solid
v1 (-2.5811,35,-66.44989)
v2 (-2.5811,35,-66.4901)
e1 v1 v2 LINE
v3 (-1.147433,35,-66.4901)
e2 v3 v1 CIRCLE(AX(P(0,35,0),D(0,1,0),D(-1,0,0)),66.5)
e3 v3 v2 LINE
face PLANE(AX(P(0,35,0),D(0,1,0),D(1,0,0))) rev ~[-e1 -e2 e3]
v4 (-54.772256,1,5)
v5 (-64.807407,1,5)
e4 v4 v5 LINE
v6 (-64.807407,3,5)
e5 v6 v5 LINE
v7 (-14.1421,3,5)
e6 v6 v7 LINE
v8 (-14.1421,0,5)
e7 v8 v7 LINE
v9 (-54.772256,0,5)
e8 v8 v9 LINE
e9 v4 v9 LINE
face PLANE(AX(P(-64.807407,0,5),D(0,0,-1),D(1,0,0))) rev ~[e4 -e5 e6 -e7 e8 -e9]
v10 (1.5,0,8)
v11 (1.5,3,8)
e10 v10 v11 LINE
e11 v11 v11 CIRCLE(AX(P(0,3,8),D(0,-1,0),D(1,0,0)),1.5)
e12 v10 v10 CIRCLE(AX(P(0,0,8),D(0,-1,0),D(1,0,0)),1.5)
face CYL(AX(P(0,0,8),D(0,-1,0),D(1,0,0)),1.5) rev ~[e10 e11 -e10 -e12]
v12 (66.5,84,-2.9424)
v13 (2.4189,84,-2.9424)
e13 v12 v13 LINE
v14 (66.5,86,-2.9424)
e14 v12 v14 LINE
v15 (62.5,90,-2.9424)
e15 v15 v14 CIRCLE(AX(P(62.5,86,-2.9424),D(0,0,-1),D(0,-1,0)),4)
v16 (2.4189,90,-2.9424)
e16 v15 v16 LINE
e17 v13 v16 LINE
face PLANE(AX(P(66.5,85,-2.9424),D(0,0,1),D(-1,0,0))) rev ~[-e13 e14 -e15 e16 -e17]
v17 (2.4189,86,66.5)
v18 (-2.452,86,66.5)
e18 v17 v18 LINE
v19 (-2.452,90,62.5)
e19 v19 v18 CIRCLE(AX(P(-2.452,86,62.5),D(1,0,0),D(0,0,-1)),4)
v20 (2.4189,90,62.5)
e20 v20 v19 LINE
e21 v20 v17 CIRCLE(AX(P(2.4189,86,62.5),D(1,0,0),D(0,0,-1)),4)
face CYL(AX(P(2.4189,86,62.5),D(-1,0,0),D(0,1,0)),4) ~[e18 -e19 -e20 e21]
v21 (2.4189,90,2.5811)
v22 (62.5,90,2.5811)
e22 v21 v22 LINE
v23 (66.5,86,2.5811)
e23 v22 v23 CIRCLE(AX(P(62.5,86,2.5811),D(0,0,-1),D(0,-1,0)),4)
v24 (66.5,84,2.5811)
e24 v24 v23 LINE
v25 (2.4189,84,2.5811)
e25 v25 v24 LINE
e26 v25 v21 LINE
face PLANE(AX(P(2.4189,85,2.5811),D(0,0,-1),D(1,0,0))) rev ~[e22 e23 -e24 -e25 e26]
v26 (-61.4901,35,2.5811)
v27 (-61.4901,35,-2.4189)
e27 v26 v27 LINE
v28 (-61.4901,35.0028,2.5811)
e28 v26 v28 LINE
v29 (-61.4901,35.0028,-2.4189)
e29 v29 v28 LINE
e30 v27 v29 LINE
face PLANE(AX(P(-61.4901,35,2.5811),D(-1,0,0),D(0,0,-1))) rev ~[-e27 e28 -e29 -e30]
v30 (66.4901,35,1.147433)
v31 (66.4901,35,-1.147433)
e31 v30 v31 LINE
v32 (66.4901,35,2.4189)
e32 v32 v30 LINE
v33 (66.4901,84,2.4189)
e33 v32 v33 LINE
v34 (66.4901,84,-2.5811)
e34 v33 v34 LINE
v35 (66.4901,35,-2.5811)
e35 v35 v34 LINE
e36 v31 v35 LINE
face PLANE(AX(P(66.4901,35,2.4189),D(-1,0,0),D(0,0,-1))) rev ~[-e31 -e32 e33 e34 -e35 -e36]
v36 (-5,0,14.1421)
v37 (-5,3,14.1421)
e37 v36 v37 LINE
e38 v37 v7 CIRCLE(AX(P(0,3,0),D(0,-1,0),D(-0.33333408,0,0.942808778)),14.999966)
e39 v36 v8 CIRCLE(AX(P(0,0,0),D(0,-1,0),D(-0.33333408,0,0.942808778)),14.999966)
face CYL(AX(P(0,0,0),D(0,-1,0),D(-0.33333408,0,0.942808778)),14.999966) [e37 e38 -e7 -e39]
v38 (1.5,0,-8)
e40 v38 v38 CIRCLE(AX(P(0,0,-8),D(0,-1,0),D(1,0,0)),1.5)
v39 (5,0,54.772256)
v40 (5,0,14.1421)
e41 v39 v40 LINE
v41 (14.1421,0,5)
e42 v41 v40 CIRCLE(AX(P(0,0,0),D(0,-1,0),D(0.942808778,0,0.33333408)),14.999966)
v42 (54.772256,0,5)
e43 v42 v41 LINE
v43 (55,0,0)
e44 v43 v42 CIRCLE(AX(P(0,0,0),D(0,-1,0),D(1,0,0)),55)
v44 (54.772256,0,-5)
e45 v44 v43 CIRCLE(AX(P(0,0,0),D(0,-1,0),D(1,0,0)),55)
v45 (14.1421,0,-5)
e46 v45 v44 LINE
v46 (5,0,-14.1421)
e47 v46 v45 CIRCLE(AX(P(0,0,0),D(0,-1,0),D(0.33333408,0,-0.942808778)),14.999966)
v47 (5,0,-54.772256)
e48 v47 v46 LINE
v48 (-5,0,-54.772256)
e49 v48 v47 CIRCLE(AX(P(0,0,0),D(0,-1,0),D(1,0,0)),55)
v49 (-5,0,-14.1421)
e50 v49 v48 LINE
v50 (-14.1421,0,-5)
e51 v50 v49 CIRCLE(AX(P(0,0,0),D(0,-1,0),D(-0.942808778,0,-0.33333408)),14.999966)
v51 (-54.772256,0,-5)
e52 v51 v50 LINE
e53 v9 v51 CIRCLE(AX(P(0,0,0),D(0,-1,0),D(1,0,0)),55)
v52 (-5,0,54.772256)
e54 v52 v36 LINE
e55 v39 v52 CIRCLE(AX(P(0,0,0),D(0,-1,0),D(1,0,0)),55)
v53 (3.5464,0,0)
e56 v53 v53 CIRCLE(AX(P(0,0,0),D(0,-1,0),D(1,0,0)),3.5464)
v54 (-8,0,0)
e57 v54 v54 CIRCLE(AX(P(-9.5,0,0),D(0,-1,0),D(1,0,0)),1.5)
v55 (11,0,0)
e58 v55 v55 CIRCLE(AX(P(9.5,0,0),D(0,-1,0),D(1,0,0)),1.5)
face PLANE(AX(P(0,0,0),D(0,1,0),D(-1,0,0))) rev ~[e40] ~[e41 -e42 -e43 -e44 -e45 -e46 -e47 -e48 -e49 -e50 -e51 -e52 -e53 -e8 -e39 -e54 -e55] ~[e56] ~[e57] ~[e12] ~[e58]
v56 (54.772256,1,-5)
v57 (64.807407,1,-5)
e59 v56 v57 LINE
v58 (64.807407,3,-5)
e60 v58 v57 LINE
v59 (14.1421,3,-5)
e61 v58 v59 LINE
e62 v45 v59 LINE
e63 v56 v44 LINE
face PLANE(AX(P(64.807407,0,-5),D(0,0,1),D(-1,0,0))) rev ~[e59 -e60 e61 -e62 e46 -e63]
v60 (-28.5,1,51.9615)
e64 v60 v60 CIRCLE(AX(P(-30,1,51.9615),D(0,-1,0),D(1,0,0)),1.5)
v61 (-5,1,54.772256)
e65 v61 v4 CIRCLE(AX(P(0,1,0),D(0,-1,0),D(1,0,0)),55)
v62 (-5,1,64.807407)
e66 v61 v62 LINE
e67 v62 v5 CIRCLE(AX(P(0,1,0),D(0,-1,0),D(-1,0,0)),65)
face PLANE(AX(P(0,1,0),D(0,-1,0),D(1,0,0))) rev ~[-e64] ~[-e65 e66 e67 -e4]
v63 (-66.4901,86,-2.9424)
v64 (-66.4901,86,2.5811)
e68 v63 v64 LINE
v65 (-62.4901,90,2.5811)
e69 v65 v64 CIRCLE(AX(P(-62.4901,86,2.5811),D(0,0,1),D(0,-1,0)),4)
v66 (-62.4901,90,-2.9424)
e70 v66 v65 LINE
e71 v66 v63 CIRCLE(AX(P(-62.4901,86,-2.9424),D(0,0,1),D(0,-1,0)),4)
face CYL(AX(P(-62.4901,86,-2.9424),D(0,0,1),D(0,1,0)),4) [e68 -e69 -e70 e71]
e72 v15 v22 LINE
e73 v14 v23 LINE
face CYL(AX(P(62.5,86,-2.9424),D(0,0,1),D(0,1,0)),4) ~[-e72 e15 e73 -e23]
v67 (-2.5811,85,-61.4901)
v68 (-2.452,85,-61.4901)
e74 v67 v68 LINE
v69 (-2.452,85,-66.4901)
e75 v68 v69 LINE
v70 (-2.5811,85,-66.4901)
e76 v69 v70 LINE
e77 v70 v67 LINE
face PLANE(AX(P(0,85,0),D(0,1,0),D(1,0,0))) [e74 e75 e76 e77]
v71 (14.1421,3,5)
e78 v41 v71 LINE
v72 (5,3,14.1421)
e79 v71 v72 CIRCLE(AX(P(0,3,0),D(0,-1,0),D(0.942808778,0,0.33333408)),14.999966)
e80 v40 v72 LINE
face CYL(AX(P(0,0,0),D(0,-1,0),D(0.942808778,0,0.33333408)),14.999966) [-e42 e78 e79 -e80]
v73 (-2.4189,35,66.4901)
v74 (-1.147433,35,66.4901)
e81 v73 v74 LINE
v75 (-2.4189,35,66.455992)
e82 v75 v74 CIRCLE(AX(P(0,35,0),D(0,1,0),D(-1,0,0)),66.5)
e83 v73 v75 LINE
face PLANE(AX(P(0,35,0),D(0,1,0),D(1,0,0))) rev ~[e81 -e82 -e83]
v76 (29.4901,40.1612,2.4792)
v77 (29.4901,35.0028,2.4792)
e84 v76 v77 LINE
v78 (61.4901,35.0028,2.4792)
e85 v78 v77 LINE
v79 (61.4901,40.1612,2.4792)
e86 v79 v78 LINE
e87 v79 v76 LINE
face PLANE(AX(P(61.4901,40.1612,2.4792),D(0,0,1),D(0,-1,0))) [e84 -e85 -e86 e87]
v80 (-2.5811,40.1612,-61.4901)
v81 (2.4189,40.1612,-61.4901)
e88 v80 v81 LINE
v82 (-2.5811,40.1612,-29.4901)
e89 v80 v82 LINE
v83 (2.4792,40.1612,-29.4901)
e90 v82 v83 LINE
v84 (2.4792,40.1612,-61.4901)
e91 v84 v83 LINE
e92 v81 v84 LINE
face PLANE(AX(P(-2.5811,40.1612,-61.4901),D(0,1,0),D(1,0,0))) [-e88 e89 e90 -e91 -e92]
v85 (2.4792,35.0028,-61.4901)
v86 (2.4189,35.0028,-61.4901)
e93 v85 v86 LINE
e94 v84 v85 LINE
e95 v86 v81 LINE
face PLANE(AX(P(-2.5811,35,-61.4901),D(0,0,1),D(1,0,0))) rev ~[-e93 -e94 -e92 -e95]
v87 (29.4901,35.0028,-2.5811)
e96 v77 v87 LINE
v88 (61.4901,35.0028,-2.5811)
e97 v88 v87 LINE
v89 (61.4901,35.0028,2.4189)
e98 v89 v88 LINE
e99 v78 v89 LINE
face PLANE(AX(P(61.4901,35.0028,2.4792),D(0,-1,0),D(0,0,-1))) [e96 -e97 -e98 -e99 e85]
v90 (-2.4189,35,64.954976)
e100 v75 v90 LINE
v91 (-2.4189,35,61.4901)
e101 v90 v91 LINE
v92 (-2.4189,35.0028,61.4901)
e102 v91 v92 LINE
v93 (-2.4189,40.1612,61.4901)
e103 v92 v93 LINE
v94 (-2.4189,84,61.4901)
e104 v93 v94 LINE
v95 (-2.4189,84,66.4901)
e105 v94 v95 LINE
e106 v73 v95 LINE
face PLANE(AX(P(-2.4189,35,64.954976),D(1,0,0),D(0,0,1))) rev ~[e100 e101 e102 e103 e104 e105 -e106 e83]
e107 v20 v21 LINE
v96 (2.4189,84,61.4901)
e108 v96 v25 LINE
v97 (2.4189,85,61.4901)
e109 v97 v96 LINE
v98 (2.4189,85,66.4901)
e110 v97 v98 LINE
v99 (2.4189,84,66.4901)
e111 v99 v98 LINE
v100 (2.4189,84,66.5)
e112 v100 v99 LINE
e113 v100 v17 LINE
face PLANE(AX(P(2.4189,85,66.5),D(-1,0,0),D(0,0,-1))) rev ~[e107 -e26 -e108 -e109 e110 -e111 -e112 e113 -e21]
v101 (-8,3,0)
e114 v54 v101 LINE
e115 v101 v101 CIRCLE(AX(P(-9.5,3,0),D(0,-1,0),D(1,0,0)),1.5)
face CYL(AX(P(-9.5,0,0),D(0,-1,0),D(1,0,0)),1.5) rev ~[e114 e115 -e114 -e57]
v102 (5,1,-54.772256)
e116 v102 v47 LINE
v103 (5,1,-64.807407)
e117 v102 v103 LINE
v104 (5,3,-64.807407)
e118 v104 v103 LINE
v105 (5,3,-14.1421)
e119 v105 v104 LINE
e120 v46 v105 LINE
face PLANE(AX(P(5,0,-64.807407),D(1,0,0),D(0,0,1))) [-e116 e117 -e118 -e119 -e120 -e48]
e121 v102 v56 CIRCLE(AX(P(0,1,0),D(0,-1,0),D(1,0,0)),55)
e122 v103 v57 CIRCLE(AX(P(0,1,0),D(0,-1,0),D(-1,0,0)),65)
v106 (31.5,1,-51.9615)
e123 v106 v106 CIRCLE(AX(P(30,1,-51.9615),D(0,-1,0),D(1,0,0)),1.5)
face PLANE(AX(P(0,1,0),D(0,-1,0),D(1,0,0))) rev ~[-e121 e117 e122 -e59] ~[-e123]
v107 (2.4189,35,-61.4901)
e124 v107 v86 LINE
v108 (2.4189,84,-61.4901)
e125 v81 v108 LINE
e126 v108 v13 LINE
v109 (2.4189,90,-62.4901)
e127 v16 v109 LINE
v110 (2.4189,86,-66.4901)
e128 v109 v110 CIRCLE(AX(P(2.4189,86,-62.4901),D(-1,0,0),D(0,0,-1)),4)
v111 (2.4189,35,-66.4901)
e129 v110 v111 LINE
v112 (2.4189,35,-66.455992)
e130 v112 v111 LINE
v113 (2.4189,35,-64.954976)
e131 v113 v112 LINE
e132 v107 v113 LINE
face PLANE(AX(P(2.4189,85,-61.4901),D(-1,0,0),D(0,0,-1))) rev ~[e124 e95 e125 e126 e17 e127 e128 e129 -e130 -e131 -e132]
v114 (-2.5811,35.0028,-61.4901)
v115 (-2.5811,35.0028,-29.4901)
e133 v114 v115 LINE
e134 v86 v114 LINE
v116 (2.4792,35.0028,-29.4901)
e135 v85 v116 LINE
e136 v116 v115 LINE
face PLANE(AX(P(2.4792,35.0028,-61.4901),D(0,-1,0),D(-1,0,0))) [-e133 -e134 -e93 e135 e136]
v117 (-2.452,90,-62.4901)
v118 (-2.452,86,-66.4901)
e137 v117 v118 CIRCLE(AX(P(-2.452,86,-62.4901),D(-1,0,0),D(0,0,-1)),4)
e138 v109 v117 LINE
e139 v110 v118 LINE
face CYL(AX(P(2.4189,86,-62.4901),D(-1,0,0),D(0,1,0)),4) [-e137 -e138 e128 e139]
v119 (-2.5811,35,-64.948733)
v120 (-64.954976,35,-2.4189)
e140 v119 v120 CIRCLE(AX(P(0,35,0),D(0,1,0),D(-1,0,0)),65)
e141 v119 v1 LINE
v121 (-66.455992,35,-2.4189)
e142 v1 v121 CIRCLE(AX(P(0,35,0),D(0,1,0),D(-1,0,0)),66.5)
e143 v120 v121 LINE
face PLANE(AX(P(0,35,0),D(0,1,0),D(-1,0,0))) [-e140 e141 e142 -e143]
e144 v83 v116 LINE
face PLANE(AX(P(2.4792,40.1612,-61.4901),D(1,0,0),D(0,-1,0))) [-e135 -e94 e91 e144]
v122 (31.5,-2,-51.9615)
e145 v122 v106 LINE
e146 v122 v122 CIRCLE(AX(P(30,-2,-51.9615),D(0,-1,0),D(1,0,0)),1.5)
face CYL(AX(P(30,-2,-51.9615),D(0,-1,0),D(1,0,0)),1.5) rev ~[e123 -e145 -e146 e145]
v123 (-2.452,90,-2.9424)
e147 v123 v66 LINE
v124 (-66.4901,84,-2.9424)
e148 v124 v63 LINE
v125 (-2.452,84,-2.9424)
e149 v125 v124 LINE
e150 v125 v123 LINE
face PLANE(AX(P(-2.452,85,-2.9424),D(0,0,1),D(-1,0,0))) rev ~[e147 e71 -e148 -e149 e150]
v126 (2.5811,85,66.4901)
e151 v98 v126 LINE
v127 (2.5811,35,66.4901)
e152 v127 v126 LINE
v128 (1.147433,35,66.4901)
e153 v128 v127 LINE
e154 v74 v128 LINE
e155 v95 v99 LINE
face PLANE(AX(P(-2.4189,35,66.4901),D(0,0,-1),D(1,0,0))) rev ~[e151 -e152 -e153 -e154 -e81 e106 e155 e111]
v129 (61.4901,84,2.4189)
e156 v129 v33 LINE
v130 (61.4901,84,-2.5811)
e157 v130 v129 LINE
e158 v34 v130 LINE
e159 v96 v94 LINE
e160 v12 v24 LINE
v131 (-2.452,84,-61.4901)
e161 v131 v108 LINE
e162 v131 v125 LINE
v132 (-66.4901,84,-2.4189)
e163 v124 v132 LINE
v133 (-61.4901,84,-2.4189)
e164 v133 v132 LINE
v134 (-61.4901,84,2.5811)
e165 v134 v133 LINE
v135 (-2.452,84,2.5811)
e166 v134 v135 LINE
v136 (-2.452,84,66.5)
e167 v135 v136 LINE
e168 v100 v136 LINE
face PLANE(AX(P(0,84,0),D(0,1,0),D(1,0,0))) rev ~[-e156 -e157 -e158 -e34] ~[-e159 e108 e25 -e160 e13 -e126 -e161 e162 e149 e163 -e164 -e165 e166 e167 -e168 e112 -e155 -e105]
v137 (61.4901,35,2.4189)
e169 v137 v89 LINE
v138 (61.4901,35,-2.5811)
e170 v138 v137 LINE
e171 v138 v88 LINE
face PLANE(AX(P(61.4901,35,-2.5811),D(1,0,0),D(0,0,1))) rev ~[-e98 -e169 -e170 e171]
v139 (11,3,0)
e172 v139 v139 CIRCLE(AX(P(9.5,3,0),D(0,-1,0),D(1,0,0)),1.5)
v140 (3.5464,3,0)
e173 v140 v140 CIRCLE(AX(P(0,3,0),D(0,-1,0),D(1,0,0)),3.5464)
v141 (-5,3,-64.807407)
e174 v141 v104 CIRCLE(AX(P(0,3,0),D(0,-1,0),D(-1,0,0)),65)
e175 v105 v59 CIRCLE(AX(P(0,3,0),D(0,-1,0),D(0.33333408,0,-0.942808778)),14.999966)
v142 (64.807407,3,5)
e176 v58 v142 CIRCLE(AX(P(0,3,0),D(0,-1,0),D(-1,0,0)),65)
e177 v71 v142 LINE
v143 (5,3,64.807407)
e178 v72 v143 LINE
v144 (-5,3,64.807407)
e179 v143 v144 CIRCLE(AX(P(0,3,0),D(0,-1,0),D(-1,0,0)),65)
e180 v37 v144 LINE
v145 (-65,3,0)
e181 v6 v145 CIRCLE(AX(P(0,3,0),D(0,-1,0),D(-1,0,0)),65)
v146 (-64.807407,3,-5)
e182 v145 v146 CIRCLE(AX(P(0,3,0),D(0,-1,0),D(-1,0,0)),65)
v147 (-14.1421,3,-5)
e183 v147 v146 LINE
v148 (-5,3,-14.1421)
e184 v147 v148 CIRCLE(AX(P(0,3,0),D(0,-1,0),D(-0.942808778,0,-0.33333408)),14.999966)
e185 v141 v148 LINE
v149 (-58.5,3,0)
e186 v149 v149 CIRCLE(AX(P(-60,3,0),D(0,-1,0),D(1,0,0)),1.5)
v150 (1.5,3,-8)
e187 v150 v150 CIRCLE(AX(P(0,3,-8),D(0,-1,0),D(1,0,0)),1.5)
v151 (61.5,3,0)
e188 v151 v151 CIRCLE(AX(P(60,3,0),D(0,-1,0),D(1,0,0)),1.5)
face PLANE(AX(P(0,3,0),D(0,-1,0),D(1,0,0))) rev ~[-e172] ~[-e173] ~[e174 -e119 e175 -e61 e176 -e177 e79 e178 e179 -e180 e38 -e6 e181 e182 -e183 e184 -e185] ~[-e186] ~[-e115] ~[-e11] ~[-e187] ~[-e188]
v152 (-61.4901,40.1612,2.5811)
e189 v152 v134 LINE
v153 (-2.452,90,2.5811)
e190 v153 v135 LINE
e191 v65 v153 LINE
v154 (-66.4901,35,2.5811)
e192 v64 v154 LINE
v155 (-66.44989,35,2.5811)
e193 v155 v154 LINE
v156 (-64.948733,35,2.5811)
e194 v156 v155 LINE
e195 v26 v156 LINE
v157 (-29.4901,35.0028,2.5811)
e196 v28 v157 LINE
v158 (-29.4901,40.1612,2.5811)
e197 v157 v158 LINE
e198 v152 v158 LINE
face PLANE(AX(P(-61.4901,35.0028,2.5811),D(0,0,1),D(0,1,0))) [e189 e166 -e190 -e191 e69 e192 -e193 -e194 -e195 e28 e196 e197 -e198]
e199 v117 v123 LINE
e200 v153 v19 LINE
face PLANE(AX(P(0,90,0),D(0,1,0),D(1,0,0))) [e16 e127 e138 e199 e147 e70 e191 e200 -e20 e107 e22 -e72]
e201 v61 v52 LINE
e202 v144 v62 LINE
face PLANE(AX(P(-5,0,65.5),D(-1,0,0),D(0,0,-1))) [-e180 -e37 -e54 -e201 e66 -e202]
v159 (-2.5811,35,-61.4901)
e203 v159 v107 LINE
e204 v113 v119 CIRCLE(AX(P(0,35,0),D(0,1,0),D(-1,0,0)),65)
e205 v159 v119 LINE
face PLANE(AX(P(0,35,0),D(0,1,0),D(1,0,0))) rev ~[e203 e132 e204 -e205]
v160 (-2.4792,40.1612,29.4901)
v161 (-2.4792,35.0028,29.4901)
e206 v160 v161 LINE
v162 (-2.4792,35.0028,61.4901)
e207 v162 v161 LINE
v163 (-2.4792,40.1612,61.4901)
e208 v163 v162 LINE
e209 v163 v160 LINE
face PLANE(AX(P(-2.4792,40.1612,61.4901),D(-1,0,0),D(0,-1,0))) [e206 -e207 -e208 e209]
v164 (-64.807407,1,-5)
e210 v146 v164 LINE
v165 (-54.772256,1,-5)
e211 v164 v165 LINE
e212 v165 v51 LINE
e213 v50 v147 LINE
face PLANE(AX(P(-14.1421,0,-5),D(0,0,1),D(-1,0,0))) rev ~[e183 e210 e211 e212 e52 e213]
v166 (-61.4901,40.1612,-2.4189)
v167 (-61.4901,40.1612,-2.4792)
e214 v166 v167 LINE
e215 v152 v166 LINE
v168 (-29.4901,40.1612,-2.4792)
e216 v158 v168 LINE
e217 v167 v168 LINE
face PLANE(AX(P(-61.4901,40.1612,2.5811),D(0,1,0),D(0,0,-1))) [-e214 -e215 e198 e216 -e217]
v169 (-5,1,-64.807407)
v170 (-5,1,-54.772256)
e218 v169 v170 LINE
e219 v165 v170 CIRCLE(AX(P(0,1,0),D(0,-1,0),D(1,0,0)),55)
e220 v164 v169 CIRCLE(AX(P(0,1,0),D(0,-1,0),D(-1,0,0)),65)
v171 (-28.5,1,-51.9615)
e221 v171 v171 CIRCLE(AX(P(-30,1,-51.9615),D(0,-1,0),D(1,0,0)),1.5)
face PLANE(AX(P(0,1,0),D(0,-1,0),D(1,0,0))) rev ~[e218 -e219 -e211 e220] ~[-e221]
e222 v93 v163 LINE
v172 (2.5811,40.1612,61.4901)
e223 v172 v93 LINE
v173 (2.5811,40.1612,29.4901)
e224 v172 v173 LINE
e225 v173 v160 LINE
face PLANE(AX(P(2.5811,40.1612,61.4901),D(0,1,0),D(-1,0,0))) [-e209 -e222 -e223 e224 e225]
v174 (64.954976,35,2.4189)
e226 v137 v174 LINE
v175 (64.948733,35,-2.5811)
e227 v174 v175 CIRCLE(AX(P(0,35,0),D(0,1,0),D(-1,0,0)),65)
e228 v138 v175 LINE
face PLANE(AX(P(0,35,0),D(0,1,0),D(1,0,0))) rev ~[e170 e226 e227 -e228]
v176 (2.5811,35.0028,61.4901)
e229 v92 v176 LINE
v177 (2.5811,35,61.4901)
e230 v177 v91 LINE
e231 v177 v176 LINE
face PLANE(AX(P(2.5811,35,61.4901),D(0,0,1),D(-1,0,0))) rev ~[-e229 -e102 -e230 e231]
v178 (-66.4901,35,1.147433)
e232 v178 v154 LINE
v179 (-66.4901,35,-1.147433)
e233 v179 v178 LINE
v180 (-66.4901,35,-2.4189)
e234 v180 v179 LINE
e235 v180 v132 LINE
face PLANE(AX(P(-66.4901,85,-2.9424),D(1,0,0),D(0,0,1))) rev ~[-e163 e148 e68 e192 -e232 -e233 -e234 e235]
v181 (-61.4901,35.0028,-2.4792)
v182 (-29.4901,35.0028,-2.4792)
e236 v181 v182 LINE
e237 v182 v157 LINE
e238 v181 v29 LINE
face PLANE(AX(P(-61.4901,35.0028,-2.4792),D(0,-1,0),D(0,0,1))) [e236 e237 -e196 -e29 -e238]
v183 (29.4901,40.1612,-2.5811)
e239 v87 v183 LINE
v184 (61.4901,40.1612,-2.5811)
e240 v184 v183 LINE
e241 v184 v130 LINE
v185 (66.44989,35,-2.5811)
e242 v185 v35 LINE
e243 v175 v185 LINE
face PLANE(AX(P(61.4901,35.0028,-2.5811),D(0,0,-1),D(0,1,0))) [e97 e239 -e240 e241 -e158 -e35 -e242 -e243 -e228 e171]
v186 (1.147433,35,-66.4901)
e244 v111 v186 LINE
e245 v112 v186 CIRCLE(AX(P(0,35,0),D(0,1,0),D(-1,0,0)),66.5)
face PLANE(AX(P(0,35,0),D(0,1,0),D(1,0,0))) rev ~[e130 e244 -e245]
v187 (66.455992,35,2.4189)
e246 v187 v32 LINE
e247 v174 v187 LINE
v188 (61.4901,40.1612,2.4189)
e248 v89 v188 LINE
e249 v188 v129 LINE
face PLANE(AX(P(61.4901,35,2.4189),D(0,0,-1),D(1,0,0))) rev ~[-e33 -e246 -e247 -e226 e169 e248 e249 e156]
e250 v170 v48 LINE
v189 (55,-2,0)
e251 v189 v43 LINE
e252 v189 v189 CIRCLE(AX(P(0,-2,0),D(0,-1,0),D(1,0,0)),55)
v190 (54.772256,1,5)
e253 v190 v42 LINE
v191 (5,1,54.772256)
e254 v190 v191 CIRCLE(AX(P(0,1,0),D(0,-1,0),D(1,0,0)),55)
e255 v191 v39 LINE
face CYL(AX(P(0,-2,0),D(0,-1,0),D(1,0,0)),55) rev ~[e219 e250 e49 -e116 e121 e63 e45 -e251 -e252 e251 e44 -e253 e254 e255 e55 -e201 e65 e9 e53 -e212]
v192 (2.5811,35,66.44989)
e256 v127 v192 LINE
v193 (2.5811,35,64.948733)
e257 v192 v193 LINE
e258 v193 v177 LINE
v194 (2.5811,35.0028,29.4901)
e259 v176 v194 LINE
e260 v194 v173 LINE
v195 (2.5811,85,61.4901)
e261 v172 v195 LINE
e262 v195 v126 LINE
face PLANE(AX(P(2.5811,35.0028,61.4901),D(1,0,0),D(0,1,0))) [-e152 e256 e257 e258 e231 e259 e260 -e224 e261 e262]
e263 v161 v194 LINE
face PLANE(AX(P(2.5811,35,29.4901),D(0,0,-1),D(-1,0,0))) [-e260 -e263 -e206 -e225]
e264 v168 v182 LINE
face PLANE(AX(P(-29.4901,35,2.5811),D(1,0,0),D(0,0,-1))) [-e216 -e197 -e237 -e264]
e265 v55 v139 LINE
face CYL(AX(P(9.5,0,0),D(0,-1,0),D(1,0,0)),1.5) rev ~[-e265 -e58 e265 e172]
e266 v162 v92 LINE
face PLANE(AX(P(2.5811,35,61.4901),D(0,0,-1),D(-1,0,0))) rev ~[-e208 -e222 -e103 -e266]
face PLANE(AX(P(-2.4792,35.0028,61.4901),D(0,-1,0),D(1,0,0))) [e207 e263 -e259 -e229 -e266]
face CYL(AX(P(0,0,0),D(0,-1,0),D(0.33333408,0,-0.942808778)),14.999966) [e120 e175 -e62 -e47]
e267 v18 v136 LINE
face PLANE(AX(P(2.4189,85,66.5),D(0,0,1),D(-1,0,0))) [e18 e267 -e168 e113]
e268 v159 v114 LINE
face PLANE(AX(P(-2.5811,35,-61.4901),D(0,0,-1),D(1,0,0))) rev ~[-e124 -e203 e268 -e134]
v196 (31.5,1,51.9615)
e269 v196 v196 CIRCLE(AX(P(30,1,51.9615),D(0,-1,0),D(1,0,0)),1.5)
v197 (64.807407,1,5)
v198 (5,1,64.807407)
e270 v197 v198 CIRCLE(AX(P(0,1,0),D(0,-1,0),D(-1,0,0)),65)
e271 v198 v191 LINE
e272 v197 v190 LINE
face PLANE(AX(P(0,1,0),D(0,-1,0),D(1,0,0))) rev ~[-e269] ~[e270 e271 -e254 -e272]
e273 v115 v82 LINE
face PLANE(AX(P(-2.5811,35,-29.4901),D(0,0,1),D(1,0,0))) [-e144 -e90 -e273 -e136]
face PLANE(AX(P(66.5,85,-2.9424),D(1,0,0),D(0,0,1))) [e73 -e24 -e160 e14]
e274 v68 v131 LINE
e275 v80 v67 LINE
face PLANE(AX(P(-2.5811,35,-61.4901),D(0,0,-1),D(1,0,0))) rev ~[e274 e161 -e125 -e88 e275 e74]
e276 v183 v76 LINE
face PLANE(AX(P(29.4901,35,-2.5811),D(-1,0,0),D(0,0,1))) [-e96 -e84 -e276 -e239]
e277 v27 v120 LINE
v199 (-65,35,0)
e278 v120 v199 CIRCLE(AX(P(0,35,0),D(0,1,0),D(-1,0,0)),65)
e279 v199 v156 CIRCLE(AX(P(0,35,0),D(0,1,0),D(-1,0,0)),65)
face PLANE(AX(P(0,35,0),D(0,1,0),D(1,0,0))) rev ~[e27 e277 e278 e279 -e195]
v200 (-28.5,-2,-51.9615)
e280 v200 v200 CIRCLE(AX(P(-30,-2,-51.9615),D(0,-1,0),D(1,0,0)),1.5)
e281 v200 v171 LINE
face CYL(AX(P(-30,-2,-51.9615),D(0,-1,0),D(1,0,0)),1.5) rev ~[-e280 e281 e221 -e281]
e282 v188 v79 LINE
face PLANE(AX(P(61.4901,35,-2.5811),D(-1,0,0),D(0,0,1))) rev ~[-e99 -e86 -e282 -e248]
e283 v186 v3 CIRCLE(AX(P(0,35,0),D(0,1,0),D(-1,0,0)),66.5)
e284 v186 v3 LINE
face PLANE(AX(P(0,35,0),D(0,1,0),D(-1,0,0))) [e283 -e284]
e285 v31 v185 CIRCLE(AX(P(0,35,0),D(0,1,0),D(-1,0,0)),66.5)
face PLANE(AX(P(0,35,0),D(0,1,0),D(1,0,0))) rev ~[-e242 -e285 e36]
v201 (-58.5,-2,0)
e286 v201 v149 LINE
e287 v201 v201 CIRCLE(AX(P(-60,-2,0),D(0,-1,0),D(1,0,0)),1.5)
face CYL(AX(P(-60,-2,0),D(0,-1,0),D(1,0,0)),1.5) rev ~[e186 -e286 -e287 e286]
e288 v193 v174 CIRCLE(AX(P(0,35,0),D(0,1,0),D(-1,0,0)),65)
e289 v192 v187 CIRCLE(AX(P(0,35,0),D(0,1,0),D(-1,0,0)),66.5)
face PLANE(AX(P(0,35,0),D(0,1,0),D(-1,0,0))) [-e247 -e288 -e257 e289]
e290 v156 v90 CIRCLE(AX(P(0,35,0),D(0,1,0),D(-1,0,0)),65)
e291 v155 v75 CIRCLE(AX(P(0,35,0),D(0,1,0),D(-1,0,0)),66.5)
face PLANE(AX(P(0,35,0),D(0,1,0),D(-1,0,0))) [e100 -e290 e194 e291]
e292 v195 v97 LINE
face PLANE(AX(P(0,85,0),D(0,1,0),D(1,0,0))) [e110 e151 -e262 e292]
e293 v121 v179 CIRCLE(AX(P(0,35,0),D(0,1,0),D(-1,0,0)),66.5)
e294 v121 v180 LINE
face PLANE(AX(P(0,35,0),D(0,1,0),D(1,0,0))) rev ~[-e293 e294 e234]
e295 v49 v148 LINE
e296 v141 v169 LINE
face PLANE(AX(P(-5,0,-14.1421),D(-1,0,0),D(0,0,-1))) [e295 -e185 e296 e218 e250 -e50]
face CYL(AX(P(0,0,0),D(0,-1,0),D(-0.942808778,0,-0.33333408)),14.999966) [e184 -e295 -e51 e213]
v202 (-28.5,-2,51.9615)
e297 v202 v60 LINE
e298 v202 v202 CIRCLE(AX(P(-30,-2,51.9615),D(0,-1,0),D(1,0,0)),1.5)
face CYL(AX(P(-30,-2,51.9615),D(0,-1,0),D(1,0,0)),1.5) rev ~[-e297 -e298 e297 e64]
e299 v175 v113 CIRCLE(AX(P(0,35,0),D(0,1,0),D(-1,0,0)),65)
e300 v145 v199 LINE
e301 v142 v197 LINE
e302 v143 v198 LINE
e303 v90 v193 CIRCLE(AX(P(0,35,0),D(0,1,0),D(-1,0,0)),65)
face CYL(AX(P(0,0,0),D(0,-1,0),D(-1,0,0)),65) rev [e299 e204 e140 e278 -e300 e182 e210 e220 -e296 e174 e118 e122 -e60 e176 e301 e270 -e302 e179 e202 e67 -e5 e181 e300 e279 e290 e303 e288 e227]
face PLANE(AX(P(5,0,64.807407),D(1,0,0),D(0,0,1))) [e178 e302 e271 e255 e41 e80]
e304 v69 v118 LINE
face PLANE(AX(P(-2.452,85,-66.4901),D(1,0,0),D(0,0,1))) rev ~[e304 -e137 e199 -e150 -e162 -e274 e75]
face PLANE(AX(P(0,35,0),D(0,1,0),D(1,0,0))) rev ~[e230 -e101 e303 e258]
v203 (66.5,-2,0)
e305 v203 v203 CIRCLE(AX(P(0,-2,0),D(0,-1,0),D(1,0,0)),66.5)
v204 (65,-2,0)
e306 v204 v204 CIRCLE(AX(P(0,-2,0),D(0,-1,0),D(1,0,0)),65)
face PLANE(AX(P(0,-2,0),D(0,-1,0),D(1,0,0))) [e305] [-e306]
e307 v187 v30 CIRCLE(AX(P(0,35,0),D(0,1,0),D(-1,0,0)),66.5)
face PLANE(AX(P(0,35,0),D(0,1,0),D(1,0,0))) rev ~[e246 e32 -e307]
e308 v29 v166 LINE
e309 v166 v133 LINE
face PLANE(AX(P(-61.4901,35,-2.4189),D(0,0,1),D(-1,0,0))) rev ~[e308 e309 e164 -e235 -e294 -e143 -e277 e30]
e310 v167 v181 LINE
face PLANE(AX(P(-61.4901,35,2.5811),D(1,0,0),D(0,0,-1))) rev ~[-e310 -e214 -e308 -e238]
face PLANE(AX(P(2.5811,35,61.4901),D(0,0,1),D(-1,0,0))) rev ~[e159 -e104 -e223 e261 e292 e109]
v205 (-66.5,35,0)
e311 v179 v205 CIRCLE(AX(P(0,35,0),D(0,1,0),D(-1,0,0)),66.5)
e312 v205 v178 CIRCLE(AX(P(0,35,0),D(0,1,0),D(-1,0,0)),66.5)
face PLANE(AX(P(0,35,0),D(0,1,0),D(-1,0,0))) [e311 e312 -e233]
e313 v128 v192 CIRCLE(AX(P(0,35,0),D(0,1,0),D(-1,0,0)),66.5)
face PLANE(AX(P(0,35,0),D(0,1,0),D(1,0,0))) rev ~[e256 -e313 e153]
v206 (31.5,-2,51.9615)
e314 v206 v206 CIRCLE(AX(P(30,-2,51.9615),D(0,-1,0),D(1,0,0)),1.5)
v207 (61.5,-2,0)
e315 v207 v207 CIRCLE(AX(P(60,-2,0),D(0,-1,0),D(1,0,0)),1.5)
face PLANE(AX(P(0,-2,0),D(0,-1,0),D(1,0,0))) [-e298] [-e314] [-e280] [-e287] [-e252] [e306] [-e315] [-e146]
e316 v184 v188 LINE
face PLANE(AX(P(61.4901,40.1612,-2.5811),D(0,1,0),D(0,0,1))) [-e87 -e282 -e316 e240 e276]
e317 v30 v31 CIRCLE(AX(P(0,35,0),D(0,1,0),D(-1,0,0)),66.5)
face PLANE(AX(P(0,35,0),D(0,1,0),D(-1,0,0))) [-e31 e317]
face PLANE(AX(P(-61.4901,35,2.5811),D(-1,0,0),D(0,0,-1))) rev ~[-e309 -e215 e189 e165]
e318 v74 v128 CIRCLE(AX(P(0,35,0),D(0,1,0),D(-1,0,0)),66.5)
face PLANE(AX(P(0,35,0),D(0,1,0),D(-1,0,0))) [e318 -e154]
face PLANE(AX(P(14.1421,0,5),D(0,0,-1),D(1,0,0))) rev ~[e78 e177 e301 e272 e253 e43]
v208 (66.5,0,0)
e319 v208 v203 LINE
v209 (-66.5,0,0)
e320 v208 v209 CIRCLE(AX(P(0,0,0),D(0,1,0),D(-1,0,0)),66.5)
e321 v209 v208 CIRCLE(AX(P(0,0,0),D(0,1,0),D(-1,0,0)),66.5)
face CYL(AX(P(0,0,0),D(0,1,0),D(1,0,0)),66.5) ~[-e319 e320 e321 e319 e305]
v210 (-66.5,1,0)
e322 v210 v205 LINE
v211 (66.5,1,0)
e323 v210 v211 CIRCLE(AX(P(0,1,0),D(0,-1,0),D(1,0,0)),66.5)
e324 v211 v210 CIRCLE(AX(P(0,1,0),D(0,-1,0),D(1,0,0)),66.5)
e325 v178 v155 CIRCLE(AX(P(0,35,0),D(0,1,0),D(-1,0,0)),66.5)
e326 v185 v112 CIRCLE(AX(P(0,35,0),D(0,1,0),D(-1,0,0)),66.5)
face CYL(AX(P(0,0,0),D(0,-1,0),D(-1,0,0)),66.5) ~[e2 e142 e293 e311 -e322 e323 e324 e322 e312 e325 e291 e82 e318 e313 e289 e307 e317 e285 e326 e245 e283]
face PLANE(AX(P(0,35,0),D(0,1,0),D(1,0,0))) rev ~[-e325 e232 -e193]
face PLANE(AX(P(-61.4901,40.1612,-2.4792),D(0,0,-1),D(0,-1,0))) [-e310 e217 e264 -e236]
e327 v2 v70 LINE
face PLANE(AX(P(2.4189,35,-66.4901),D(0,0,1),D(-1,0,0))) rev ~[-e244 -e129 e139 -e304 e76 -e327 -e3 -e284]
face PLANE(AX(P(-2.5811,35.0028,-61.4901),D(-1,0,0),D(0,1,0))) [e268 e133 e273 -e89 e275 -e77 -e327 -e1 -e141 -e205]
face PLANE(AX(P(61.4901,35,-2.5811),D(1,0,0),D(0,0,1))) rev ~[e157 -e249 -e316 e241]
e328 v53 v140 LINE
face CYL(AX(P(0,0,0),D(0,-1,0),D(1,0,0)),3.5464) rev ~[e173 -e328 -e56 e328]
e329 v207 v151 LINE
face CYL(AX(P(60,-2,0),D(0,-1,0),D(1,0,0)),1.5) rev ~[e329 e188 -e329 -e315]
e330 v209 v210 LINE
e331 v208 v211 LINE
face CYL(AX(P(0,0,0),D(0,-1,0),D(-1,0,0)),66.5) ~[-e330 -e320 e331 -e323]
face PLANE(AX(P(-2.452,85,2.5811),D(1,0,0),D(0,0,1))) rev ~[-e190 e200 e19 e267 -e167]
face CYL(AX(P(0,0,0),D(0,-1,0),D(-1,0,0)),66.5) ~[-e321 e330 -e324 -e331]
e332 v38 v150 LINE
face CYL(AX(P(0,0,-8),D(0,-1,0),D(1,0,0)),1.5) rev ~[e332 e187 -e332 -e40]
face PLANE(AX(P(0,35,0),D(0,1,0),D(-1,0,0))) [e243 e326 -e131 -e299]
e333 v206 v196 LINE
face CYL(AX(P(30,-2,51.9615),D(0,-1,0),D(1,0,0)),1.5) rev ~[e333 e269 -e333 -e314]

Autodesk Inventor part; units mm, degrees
ref_plane "YZ Plane" through (0, 0, 0) normal (1, 0, 0) x (0, 1, 0)
ref_plane "XZ Plane" through (0, 0, 0) normal (0, 1, 0) x (-1, 0, 0)
ref_plane "XY Plane" through (0, 0, 0) normal (0, 0, 1) x (1, 0, 0)
sketch "Sketch1" plane through (0, 0, 0) normal (0, 1, 0) x (-1, 0, 0)
  circle A0 centre (0, 0) radius 65
  circle A1 centre (0, 0) radius 66.5
  dimension "d0" = 130
  dimension "d1" = 133
extrude "Extrusion1" add sketch "Sketch1" along normal blind 35
sketch "Sketch2" plane through (0, 0, 0) normal (0, -1, 0) x (1, 0, 0)
  line L0 (5, 65.5) -> (-5, 65.5)
  line L1 (-5, -65.5) -> (5, -65.5)
  line L2 (65.5, 5) -> (65.5, -5)
  line L3 (-65.5, -5) -> (-65.5, 5)
  circle A0 centre (0, 0) radius 65 projected
  line L4 (64.8114, -4.9474) -> (65.5, -5) construction
  line L5 (65.5, 5) -> (64.8114, 4.9474) construction
  line L6 (-65.5, 5) -> (-64.8114, 4.9474) construction
  line L7 (0, 0) -> (5, -0.3817) construction
  line L8 (0, 0) -> (-5, -0.3817) construction
  line L9 (-64.8114, -4.9474) -> (-65.5, -5) construction
  line L10 (5, 65.5) -> (4.9474, 64.8114) construction
  line L11 (-5, 65.5) -> (-4.9474, 64.8114) construction
  arc A1 (14.1421, 5) -> (5, 14.1421) centre (0, 0) ccw
  arc A2 (-5, 14.1421) -> (-14.1421, 5) centre (0, 0) ccw
  line L12 (0, 0) -> (-0.3817, -5) construction
  line L13 (-4.9474, -64.8114) -> (-5, -65.5) construction
  line L14 (4.9474, -64.8114) -> (5, -65.5) construction
  arc A3 (-14.1421, -5) -> (-5, -14.1421) centre (0, 0) ccw
  arc A4 (5, -14.1421) -> (14.1421, -5) centre (0, 0) ccw
  line L15 (65.5, -5) -> (14.1421, -5)
  line L16 (5, -65.5) -> (5, -14.1421)
  line L17 (5, -0.3817) -> (5, 0.3817)
  line L18 (5, 14.1421) -> (5, 65.5)
  line L19 (-65.5, 5) -> (-14.1421, 5)
  line L20 (14.1421, 5) -> (65.5, 5)
  line L21 (-5, 65.5) -> (-5, 14.1421)
  line L22 (-5, 0.3817) -> (-5, -0.3817)
  line L23 (-5, -5) -> (-5, -65.5)
  line L24 (0.3817, -5) -> (-0.3817, -5)
  line L25 (-14.1421, -5) -> (-65.5, -5)
  dimension "d4" = 10
  dimension "d5" = 131
  dimension "d6" = 131
  dimension "d7" = 10
extrude "Extrusion2" add sketch "Sketch2" against normal blind 3 contours L18 A0 L21 L0 | L18 A1 L20 A0 L15 A4 L16 L23 A3 L25 L19 A2 L21 | L20 L2 L15 A0 | A0 L25 L3 L19 | A0 L16 L1 L23
sketch "Sketch3" plane through (0, 0, 0) normal (0, -1, 0) x (1, 0, 0)
  circle A0 centre (0, -8) radius 1.5
  circle A1 centre (0, 8) radius 1.5
  circle A2 centre (9.5, 0) radius 1.5
  circle A3 centre (-9.5, 0) radius 1.5
  circle A4 centre (0, 0) radius 3.5464
  dimension "d11" = 3
  dimension "d12" = 8
  dimension "d13" = 3
  dimension "d14" = 9.5
extrude "Extrusion3" cut sketch "Sketch3" against normal blind 3
sketch "Sketch4" plane through (0, 0, 0) normal (0, -1, 0) x (1, 0, 0)
  circle A0 centre (0, 0) radius 66.5 projected
  circle A1 centre (0, 0) radius 65
  dimension "d17" = 130
extrude "Extrusion4" add sketch "Sketch4" along normal blind 2
sketch "Sketch5" plane through (0, 35, 0) normal (0, 1, 0) x (1, 0, 0)
  circle A0 centre (0, 0) radius 65 projected
  line L0 (-2.4189, -66.4901) -> (2.5811, -66.4901)
  line L1 (2.5811, -66.4901) -> (2.5811, -61.4901)
  line L2 (2.5811, -61.4901) -> (-2.4189, -61.4901)
  line L3 (-2.4189, -61.4901) -> (-2.4189, -66.4901)
  line L4 (61.4901, -2.4189) -> (66.4901, -2.4189)
  line L5 (61.4901, 2.5811) -> (61.4901, -2.4189)
  line L6 (66.4901, 2.5811) -> (61.4901, 2.5811)
  line L7 (66.4901, -2.4189) -> (66.4901, 2.5811)
  line L8 (2.4189, 61.4901) -> (2.4189, 66.4901)
  line L9 (-2.5811, 61.4901) -> (2.4189, 61.4901)
  line L10 (-2.5811, 66.4901) -> (-2.5811, 61.4901)
  line L11 (2.4189, 66.4901) -> (-2.5811, 66.4901)
  line L12 (-61.4901, 2.4189) -> (-66.4901, 2.4189)
  line L13 (-61.4901, -2.5811) -> (-61.4901, 2.4189)
  line L14 (-66.4901, -2.5811) -> (-61.4901, -2.5811)
  line L15 (-66.4901, 2.4189) -> (-66.4901, -2.5811)
  dimension "d20" = 5
  dimension "d21" = 5
  dimension "d24" = 360
extrude "Extrusion5" add sketch "Sketch5" along normal blind 50 contours A0 L4 L5 L6 | A0 L6 L7 L4 | L8 L9 L10 A0 | A0 L10 L11 L8 | L1 L0 L3 A0 | A0 L3 L2 L1 | L12 L13 L14 A0 | A0 L14 L15 L12
sketch "Sketch6" plane through (0, 85, 0) normal (0, 1, 0) x (1, 0, 0)
  line L0 (66.5, -66.5) -> (-66.5, -66.5)
  line L1 (-66.5, -66.5) -> (-66.5, 66.5)
  line L2 (-66.5, 66.5) -> (66.5, 66.5)
  line L3 (66.5, 66.5) -> (66.5, -66.5)
  line L4 (66.5, -66.5) -> (-66.5, 66.5) construction
  line L5 (-66.5, -66.5) -> (66.5, 66.5) construction
  line L6 (-66.4901, -2.5811) -> (66.5, -2.5811)
  line L7 (66.5, -2.5811) -> (66.5, 2.9424)
  line L8 (66.5, 2.9424) -> (-66.4901, 2.9424)
  line L9 (-66.4901, 2.9424) -> (-66.4901, -2.5811)
  line L10 (2.4189, 61.4901) -> (2.4189, 66.4901) projected
  line L11 (-2.452, -66.5) -> (2.4189, -66.5)
  line L12 (2.4189, -66.5) -> (2.4189, 66.4901)
  line L13 (2.4189, 66.4901) -> (-2.452, 66.4901)
  line L14 (-2.452, 66.4901) -> (-2.452, -66.5)
  point P0 (0, 0)
  dimension "d28" = 133
  dimension "d29" = 133
extrude "Extrusion6" add sketch "Sketch6" along normal blind 5 and the other way blind 1 contours L0 L14 L6 L12 | L6 L12 L8 L3 | L6 L14 L8 L12 | L6 L9 L8 L14 | L8 L14 L13 L10 L12
sketch "Sketch7" plane through (61.4901, 35, -2.5811) normal (-1, 0, 0) x (0, 0, 1)
  line L0 (0, 0) -> (0, 49) projected
  line L1 (5.0603, 0.0028) -> (0, 0.0028)
  line L2 (0, 0.0028) -> (0, 5.1612)
  line L3 (0, 5.1612) -> (5.0603, 5.1612)
  line L4 (5.0603, 5.1612) -> (5.0603, 0.0028)
  point P0 (2.5811, -35)
extrude "Extrusion7" add sketch "Sketch7" along normal blind 32
pattern_circular "Circular Pattern1" count 4 over 360 about axis through (0, -10, 0) along (0, 1, 0) of "Extrusion7"
sketch "Sketch8" plane through (0, -2, 0) normal (0, -1, 0) x (1, 0, 0)
  circle A0 centre (0, 0) radius 66.5
  circle A1 centre (0, 0) radius 55
  dimension "d39" = 133
  dimension "d40" = 110
extrude "Extrusion8" add sketch "Sketch8" against normal blind 3
sketch "Sketch9" plane through (0, -2, 0) normal (0, -1, 0) x (1, 0, 0)
  circle A0 centre (-60, 0) radius 1.5
  circle A1 centre (-30, -51.9615) radius 1.5
  circle A2 centre (30, -51.9615) radius 1.5
  circle A3 centre (60, 0) radius 1.5
  circle A4 centre (30, 51.9615) radius 1.5
  circle A5 centre (-30, 51.9615) radius 1.5
  point P0 (0, 0)
  dimension "d43" = 3
  dimension "d44" = 60
  dimension "d47" = 360
extrude "Extrusion9" cut sketch "Sketch9" against normal blind 10
fillet "Fillet1" radius 4 1 edges at (66.5, 90, -0.1807)
fillet "Fillet2" radius 4 1 edges at (-0.0165, 90, 66.5)
fillet "Fillet3" radius 4 2 edges at (-0.0165, 90, -66.4901) (-66.4901, 90, -0.1807)
properties part number "Motor mount (plain)"
